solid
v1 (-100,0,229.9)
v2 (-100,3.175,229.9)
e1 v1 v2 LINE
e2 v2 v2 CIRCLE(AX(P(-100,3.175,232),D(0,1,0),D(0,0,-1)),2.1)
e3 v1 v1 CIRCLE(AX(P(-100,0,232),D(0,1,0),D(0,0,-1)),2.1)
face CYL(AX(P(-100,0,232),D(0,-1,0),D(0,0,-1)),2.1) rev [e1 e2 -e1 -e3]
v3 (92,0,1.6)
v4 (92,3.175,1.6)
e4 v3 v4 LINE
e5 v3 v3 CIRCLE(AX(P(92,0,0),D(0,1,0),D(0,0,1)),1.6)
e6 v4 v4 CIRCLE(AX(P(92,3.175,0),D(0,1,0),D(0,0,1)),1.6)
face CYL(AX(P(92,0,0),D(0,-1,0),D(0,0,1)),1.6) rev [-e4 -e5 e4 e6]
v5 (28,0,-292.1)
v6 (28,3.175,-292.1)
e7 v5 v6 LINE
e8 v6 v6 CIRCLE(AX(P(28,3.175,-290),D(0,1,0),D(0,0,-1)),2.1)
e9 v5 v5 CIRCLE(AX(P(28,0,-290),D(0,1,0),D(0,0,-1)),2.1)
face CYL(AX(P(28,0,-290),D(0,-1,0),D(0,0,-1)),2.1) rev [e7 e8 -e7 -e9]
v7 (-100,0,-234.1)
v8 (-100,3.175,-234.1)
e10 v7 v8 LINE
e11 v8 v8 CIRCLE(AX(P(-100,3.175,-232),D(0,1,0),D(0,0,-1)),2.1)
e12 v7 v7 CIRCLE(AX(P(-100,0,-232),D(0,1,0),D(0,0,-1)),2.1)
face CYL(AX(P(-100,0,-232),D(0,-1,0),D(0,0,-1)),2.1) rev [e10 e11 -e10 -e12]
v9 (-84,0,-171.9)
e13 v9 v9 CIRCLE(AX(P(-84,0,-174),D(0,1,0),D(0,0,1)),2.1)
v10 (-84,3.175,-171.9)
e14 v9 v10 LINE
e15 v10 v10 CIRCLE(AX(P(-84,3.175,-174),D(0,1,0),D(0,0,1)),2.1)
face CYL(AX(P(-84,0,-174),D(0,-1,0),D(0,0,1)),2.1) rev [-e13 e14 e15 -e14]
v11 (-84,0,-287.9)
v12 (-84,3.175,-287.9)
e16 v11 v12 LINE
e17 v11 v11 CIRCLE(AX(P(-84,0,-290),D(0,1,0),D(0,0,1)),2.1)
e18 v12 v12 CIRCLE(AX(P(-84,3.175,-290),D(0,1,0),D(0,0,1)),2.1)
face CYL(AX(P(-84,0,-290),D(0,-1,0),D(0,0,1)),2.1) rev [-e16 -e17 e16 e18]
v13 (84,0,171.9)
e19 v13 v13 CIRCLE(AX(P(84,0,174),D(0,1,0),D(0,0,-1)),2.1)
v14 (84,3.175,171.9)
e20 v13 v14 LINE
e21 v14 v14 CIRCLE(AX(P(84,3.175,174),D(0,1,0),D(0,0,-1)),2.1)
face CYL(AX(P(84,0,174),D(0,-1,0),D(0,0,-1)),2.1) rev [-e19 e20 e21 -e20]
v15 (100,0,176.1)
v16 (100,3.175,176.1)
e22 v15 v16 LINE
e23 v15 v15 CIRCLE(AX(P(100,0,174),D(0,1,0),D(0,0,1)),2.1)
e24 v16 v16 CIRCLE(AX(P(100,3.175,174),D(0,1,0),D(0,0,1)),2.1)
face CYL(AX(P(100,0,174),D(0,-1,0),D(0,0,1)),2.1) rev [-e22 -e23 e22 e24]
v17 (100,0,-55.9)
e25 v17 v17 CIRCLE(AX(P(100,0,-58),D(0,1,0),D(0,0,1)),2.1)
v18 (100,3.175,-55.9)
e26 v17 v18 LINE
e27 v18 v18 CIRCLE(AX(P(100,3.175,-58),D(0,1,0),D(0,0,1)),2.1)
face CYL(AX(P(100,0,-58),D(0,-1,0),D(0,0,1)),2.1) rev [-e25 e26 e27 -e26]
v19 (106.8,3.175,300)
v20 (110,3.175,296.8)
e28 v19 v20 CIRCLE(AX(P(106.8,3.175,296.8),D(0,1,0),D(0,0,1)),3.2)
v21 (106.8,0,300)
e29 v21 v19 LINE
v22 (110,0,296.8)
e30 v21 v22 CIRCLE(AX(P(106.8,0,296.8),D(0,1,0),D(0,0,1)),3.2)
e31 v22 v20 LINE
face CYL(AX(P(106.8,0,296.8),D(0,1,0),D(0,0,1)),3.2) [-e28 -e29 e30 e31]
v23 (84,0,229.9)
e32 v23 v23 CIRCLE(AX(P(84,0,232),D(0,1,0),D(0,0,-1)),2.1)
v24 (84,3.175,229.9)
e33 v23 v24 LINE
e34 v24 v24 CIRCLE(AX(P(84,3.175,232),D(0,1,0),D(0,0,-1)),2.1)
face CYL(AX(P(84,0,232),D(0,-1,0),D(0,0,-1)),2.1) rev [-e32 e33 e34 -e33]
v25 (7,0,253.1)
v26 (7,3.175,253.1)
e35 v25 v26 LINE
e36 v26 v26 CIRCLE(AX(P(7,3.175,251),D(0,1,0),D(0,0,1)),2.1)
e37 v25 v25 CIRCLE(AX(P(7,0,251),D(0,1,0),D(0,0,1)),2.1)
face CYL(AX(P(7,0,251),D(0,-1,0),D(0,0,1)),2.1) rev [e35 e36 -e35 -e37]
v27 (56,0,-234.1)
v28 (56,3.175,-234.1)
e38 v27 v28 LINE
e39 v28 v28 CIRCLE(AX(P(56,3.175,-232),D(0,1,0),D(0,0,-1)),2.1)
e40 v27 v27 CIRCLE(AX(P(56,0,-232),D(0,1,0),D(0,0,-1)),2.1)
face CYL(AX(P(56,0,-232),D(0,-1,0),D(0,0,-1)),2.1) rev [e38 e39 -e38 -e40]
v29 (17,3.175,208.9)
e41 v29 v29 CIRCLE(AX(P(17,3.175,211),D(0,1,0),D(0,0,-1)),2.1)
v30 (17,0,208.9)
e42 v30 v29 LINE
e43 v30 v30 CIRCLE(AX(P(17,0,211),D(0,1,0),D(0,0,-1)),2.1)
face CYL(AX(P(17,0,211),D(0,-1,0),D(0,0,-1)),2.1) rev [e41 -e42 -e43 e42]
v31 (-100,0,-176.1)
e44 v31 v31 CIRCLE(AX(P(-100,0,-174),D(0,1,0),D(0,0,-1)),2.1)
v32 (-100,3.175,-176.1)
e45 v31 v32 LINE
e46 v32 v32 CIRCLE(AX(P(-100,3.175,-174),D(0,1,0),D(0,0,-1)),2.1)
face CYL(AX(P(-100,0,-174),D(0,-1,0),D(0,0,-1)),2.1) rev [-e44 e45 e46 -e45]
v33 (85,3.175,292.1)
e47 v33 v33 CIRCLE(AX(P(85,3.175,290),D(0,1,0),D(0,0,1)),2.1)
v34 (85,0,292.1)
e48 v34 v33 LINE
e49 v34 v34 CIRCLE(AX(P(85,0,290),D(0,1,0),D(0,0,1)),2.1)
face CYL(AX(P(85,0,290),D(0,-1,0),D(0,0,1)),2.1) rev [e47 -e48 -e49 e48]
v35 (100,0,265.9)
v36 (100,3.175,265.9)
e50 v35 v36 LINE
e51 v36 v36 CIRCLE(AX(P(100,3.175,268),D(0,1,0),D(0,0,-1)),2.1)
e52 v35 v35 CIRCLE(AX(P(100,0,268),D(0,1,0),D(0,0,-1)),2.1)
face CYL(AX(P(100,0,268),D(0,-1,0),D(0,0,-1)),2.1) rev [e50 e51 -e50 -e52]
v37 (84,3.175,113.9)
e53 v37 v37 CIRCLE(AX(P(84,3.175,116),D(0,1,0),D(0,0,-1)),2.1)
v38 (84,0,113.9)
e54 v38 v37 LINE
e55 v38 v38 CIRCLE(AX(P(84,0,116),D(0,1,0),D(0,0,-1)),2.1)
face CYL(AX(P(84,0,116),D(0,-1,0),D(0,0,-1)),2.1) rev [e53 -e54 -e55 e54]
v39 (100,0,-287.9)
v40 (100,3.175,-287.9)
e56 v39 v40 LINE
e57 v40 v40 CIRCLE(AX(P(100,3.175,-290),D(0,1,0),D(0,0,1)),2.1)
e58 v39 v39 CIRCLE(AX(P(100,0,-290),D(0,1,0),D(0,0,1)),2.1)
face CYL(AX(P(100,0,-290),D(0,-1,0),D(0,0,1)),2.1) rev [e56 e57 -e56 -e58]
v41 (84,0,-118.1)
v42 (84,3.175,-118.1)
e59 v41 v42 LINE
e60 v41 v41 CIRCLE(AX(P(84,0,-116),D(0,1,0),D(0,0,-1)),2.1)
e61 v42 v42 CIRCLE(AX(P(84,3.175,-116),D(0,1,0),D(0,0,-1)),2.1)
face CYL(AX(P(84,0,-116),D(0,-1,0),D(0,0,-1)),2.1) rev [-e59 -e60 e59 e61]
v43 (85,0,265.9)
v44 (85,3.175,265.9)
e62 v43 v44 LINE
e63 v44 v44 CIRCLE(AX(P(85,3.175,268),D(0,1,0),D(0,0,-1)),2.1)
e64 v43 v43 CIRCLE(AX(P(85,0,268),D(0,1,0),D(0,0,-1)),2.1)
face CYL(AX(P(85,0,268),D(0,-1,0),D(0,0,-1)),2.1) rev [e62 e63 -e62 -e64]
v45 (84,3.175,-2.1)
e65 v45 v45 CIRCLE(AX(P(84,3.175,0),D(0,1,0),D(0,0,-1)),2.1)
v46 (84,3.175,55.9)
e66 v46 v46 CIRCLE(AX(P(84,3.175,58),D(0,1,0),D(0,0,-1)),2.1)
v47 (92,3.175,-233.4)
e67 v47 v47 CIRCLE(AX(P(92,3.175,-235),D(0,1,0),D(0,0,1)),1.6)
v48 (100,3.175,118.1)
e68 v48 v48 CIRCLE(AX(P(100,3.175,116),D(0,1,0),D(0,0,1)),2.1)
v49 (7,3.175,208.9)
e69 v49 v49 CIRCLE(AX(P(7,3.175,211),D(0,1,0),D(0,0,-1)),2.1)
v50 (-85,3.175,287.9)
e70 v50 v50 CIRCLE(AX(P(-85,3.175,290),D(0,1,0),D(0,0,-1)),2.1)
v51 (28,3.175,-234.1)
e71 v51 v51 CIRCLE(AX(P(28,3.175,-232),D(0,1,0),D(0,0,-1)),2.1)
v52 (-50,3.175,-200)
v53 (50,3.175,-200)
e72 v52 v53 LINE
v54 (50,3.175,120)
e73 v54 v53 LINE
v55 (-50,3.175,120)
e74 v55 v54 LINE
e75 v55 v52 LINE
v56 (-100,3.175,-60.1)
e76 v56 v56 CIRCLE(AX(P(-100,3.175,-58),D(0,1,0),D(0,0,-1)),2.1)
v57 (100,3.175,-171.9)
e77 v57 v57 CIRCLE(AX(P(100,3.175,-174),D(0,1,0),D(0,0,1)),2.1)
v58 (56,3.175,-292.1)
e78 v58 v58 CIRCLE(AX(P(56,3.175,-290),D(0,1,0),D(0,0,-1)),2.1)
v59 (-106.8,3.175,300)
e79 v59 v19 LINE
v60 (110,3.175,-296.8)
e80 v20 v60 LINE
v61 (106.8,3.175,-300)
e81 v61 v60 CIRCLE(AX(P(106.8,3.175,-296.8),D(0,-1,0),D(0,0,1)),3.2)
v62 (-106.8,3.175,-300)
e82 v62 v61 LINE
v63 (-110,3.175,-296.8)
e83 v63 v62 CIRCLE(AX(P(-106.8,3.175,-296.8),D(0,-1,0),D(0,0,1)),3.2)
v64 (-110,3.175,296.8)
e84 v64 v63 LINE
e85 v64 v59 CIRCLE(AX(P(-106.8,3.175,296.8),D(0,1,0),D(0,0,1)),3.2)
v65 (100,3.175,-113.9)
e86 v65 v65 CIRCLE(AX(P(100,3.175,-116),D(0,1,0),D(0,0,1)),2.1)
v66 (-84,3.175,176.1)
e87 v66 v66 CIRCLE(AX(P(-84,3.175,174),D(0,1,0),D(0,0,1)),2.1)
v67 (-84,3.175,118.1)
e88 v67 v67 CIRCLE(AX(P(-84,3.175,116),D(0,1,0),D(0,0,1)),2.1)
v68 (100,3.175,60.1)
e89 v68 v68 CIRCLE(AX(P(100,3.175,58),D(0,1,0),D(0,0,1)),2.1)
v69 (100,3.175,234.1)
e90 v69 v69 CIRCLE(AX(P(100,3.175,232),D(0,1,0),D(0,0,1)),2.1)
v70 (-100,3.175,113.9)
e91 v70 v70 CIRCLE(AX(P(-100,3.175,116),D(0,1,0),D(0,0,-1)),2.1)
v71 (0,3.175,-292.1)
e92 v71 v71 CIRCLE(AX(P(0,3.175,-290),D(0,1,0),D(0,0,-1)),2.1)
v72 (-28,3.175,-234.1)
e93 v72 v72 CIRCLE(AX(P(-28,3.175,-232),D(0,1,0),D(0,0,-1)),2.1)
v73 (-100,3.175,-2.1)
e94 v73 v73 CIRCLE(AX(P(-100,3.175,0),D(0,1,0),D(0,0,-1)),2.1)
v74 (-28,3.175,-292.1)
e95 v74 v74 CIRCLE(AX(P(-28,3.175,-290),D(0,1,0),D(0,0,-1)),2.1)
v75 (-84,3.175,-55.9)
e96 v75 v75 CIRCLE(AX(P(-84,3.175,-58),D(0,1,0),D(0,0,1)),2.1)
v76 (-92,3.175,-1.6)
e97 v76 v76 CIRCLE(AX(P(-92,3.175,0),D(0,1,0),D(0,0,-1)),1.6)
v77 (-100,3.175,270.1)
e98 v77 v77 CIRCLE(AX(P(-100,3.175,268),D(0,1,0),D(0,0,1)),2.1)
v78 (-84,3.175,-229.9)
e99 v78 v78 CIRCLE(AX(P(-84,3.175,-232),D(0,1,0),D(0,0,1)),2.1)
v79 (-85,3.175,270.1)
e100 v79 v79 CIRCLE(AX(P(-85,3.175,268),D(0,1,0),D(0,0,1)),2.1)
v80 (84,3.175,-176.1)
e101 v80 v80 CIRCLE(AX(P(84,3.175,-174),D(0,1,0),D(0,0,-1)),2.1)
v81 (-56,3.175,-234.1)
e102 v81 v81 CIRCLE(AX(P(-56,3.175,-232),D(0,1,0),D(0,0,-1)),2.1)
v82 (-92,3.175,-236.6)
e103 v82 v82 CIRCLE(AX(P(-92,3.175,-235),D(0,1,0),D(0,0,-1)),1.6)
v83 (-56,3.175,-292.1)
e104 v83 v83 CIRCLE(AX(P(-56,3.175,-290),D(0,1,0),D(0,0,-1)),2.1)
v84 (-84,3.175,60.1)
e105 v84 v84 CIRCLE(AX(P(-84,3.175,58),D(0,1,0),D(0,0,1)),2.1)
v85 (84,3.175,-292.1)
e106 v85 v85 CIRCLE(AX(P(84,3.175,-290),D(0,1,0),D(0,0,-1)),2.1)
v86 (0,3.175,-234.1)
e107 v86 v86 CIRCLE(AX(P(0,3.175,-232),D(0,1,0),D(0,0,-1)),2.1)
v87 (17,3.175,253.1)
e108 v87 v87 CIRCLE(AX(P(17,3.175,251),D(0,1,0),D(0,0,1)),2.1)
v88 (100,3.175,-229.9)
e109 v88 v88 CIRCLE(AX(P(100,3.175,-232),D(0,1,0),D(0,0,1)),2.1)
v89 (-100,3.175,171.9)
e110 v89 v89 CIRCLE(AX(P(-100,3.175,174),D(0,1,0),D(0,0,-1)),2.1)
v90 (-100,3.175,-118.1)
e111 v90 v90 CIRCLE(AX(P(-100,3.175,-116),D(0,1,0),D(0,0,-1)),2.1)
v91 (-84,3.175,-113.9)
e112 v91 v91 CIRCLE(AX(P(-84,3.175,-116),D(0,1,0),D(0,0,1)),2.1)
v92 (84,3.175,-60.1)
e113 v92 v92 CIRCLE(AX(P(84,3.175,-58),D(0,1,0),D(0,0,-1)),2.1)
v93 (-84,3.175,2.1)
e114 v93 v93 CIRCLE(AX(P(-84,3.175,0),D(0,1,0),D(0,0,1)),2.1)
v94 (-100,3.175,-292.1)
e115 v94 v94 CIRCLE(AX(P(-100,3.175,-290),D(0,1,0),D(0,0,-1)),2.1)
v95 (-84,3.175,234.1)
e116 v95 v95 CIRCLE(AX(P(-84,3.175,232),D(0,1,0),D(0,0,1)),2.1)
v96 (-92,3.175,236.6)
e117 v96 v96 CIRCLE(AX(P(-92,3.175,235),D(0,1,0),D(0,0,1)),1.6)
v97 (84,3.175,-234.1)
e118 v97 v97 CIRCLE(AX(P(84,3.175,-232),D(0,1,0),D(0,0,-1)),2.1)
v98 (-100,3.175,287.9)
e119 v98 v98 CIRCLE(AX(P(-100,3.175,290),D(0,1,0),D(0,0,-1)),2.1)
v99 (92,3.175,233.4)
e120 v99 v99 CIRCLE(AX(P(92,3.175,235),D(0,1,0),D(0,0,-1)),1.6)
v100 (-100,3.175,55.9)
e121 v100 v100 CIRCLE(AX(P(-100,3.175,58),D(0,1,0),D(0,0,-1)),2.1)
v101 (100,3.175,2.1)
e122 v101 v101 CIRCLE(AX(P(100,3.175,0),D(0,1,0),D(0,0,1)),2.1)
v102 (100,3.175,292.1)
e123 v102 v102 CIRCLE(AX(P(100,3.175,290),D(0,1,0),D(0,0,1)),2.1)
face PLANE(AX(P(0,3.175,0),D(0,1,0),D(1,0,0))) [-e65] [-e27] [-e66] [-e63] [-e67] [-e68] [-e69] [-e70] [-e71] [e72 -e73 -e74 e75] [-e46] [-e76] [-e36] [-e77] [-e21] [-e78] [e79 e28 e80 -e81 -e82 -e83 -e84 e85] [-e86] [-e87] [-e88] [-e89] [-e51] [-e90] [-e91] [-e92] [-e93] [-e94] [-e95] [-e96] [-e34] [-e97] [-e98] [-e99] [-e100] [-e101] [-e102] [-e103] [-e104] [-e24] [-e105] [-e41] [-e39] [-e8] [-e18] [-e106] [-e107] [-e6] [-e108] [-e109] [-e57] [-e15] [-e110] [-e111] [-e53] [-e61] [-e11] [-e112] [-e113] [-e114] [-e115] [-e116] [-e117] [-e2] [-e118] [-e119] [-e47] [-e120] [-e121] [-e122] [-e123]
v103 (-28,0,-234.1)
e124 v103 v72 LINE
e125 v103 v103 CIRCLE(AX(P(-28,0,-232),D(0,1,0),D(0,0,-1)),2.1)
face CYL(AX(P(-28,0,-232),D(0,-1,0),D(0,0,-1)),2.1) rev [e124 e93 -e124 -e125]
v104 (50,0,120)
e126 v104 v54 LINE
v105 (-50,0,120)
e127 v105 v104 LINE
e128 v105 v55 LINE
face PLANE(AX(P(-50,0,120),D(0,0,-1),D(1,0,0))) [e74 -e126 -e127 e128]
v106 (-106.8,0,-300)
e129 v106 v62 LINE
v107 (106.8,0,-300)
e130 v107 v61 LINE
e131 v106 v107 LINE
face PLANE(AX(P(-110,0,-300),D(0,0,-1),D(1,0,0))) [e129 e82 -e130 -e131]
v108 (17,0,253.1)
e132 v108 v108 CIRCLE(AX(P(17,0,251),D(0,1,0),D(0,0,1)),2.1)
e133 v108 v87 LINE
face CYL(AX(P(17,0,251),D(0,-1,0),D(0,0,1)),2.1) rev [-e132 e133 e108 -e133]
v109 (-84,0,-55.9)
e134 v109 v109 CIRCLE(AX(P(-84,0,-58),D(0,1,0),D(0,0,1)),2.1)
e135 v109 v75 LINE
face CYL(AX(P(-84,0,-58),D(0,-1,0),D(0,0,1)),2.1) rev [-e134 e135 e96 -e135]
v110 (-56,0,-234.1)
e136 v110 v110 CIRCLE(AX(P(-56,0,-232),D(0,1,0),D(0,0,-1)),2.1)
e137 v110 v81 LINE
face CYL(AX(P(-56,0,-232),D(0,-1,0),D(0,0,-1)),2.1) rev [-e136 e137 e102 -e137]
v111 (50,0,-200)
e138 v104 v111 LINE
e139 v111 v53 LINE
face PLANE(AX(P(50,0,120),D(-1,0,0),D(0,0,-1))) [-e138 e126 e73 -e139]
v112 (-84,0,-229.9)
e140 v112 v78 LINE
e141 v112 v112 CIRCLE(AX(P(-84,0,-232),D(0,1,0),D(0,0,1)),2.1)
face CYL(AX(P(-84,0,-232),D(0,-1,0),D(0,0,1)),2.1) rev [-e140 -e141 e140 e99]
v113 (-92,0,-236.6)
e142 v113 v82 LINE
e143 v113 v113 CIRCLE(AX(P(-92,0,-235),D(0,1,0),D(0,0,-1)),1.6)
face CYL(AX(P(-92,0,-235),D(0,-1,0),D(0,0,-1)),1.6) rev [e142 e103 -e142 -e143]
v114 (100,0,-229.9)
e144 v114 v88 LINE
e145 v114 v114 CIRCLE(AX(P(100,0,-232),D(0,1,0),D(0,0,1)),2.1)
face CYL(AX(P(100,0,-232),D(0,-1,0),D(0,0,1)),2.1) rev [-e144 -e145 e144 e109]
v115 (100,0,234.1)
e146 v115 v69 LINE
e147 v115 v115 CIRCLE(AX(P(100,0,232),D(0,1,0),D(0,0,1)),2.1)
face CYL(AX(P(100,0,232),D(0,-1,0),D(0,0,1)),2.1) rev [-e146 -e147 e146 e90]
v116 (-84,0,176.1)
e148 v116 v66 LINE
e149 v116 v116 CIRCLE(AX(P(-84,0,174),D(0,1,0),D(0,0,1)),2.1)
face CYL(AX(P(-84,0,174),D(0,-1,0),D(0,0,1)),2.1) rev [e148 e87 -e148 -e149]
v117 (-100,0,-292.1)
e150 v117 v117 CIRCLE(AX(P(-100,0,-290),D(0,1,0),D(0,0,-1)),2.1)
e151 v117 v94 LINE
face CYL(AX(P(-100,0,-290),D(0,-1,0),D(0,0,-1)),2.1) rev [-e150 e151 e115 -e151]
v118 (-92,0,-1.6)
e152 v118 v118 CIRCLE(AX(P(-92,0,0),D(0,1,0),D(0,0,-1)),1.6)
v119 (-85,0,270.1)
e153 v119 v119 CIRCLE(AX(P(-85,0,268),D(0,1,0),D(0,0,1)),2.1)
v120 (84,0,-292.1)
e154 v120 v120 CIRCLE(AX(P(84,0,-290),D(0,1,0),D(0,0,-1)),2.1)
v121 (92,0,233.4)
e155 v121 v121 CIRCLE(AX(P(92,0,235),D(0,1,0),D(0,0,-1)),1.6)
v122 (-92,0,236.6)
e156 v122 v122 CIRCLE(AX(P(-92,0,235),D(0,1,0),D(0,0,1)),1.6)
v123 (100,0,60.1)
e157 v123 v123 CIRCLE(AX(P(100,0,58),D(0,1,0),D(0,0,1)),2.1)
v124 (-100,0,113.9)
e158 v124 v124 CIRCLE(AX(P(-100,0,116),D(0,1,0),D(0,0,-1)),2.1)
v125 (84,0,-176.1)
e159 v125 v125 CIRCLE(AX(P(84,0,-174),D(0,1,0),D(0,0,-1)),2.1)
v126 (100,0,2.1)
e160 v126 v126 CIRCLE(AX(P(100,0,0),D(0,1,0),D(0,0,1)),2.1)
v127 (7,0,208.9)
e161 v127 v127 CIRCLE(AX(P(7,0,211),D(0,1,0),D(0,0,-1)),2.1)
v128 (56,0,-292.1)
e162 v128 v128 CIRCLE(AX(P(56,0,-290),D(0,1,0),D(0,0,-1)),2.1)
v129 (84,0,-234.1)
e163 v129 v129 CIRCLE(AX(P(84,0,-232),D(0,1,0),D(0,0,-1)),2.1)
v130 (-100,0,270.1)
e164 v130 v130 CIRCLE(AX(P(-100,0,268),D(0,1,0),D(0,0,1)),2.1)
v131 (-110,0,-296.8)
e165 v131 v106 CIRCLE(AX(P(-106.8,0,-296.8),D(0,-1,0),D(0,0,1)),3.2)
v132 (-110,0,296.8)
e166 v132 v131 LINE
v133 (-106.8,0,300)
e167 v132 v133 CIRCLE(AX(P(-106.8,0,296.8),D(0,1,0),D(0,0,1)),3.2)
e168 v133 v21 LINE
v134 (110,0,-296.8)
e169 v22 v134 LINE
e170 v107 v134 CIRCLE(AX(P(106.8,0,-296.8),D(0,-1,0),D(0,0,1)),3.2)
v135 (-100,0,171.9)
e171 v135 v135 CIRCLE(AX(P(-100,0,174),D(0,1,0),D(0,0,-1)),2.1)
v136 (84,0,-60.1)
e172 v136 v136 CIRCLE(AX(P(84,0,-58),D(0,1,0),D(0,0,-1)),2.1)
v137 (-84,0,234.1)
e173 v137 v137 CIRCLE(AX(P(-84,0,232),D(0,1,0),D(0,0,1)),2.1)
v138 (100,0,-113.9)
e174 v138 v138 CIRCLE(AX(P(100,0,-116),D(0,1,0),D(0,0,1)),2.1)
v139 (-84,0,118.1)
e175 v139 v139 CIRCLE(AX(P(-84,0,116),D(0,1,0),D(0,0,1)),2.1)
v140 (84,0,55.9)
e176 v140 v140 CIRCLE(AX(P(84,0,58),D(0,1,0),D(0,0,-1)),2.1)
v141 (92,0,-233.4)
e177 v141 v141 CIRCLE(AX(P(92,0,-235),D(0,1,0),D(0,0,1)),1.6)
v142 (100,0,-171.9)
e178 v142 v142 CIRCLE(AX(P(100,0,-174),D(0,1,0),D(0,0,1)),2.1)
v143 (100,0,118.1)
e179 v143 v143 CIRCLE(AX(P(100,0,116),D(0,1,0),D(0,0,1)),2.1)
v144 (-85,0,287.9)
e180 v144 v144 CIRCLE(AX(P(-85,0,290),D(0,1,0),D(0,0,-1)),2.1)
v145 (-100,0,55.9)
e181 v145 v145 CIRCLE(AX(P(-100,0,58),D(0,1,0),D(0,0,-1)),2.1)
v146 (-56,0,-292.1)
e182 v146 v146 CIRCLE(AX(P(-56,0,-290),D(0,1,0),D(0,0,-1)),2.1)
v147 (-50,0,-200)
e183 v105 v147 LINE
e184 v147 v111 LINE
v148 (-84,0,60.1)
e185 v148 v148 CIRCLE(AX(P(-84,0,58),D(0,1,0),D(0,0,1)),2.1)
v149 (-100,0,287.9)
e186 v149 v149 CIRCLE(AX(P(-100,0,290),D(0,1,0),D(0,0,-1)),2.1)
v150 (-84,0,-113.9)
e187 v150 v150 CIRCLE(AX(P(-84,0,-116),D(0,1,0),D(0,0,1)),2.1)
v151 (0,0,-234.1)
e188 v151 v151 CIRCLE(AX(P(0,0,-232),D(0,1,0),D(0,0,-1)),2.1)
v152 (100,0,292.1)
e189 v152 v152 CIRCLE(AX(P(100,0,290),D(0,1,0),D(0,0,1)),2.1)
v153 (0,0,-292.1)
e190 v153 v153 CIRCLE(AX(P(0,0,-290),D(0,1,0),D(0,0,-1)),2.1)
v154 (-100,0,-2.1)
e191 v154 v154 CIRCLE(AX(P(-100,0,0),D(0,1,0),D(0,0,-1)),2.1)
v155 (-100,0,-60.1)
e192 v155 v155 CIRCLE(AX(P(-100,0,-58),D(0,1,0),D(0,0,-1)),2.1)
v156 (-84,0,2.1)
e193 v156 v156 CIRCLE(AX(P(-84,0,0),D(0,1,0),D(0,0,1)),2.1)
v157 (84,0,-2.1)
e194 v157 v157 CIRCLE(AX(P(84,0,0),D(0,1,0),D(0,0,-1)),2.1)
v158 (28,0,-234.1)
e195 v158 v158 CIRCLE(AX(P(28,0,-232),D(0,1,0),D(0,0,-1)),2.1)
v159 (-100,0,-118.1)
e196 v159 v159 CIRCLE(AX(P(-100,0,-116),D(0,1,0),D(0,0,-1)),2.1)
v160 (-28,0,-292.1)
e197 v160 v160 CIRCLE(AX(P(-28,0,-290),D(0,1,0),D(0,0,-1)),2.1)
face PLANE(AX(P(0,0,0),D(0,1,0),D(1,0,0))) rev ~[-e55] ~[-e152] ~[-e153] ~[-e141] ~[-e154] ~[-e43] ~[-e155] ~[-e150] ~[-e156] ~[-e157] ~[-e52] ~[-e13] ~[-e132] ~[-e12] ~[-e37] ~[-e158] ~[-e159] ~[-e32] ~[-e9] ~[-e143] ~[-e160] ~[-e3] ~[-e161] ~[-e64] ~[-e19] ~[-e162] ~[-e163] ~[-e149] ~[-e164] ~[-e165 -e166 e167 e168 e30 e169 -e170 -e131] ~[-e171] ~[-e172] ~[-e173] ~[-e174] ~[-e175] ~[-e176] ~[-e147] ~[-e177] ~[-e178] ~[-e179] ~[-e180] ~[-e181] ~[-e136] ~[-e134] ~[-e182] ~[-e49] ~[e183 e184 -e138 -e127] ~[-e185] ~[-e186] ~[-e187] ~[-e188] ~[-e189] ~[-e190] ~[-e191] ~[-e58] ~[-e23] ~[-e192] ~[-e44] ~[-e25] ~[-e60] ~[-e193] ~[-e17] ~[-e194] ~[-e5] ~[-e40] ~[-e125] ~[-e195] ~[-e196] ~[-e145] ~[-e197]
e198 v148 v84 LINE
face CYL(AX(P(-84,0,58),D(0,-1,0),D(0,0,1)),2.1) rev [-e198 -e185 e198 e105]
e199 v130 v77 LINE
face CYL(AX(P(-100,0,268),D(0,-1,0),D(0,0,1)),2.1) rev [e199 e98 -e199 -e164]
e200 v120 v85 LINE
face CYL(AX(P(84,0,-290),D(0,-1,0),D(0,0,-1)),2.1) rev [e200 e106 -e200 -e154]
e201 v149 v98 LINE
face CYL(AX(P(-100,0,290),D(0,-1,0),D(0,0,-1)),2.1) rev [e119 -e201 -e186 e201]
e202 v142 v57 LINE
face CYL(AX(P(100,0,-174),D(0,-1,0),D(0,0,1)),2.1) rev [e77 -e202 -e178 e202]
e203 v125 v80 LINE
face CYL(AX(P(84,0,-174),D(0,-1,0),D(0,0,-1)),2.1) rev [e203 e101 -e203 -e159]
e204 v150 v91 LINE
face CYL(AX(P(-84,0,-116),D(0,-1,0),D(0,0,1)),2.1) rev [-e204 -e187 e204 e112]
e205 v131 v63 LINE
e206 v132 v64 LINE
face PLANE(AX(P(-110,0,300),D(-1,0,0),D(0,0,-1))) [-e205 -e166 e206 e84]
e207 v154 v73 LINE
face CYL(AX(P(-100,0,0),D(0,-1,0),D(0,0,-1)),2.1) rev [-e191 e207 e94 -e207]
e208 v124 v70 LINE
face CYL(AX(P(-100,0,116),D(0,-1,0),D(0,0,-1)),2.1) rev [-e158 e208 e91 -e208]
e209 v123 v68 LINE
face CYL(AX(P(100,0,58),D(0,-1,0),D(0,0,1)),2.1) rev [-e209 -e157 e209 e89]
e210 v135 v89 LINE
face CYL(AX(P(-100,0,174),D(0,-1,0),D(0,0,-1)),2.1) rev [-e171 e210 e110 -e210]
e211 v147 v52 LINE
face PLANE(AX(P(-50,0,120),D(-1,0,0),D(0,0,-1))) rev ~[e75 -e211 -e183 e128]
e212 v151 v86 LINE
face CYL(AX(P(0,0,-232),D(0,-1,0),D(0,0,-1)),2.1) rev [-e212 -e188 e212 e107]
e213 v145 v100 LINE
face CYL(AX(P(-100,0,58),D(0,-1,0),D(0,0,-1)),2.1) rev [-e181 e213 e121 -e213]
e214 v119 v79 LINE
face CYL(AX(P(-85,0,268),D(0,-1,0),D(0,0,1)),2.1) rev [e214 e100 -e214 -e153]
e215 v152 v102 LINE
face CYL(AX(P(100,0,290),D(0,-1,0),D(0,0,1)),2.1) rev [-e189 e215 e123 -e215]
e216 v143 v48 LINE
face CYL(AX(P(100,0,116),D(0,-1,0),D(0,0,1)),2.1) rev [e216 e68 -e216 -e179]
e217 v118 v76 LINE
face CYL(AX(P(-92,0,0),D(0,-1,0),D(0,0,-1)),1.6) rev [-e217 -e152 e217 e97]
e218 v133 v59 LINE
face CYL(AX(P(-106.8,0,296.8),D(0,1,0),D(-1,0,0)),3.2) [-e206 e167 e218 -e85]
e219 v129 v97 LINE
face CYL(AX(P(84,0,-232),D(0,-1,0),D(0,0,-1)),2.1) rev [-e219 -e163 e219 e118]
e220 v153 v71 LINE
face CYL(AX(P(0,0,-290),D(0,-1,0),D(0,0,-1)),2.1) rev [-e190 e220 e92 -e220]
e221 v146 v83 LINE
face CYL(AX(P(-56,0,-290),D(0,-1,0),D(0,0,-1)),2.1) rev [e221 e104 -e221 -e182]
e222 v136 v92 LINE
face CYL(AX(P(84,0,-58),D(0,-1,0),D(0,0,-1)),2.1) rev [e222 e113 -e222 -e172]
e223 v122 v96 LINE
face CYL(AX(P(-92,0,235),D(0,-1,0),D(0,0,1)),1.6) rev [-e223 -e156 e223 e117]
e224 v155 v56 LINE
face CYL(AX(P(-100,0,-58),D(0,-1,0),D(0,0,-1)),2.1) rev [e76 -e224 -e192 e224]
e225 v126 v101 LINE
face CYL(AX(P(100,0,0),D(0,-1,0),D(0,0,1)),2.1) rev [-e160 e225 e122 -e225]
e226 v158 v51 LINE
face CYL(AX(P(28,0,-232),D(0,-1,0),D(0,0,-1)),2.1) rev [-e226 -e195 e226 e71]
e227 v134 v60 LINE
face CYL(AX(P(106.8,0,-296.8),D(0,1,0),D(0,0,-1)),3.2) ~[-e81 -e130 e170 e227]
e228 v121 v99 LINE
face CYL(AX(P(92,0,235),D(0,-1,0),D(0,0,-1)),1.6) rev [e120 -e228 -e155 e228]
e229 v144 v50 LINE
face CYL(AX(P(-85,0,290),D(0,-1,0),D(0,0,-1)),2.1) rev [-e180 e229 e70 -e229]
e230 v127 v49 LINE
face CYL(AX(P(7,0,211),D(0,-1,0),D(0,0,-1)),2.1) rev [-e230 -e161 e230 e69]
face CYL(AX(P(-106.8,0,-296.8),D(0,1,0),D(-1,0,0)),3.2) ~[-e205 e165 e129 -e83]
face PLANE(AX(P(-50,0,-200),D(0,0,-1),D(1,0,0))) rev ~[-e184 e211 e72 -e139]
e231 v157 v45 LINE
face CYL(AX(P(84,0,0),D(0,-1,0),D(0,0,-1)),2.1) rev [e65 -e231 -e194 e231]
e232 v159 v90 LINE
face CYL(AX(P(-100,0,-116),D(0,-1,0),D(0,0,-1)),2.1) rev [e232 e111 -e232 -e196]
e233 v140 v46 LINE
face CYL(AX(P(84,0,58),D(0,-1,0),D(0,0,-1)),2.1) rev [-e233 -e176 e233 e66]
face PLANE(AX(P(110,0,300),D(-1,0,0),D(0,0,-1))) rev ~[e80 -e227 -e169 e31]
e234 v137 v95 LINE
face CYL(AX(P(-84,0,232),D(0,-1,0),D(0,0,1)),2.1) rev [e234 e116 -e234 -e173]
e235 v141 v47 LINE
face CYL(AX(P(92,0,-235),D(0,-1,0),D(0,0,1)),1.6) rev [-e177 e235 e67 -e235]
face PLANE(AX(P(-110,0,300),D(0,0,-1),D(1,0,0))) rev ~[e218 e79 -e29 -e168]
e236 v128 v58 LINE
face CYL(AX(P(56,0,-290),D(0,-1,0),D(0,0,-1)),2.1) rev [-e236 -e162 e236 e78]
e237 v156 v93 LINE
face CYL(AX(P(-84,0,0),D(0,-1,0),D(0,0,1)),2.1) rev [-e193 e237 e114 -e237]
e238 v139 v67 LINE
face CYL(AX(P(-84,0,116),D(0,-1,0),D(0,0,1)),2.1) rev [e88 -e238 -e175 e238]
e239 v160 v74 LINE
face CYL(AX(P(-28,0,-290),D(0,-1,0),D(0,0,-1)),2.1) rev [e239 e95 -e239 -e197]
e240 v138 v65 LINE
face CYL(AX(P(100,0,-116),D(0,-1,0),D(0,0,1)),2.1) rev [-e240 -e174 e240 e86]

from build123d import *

# Parameters (mm, degrees)
SKETCH1_W           = 220
SKETCH1_H           = 600
SKETCH1_R           = 2.1
SKETCH1_R_2         = 1.6
SKETCH1_W_2         = 100
SKETCH1_H_2         = 320
BOSS_EXTRUDE1_DEPTH = 3.175
FILLET1_R           = 3.2


with BuildPart() as part:
    # Sketch1 → Boss-Extrude1 (new body)
    with BuildSketch(Plane(origin=(0, 0, 0), x_dir=(1, 0, 0), z_dir=(0, 1, 0))):
        Rectangle(SKETCH1_W, SKETCH1_H)
        with Locations(Location((100, 290, 0), (0, 0, 270))):
            Circle(SKETCH1_R, mode=Mode.SUBTRACT)
        with Locations(Location((100, 232, 0), (0, 0, 270))):
            Circle(SKETCH1_R, mode=Mode.SUBTRACT)
        with Locations(Location((100, 174, 0), (0, 0, 270))):
            Circle(SKETCH1_R, mode=Mode.SUBTRACT)
        with Locations(Location((100, 116, 0), (0, 0, 270))):
            Circle(SKETCH1_R, mode=Mode.SUBTRACT)
        with Locations(Location((100, 58, 0), (0, 0, 270))):
            Circle(SKETCH1_R, mode=Mode.SUBTRACT)
        with Locations(Location((100, 0, 0), (0, 0, 270))):
            Circle(SKETCH1_R, mode=Mode.SUBTRACT)
        with Locations(Location((100, -58, 0), (0, 0, 270))):
            Circle(SKETCH1_R, mode=Mode.SUBTRACT)
        with Locations(Location((100, -116, 0), (0, 0, 270))):
            Circle(SKETCH1_R, mode=Mode.SUBTRACT)
        with Locations(Location((100, -174, 0), (0, 0, 270))):
            Circle(SKETCH1_R, mode=Mode.SUBTRACT)
        with Locations(Location((100, -232, 0), (0, 0, 270))):
            Circle(SKETCH1_R, mode=Mode.SUBTRACT)
        with Locations(Location((100, -290, 0), (0, 0, 270))):
            Circle(SKETCH1_R, mode=Mode.SUBTRACT)
        with Locations(Location((84, -232, 0), (0, 0, 90))):
            Circle(SKETCH1_R, mode=Mode.SUBTRACT)
        with Locations(Location((84, -174, 0), (0, 0, 90))):
            Circle(SKETCH1_R, mode=Mode.SUBTRACT)
        with Locations(Location((84, -116, 0), (0, 0, 90))):
            Circle(SKETCH1_R, mode=Mode.SUBTRACT)
        with Locations(Location((84, -58, 0), (0, 0, 90))):
            Circle(SKETCH1_R, mode=Mode.SUBTRACT)
        with Locations(Location((84, 0, 0), (0, 0, 90))):
            Circle(SKETCH1_R, mode=Mode.SUBTRACT)
        with Locations(Location((84, 58, 0), (0, 0, 90))):
            Circle(SKETCH1_R, mode=Mode.SUBTRACT)
        with Locations(Location((84, 116, 0), (0, 0, 90))):
            Circle(SKETCH1_R, mode=Mode.SUBTRACT)
        with Locations(Location((84, 174, 0), (0, 0, 90))):
            Circle(SKETCH1_R, mode=Mode.SUBTRACT)
        with Locations(Location((84, 232, 0), (0, 0, 90))):
            Circle(SKETCH1_R, mode=Mode.SUBTRACT)
        with Locations(Location((84, 290, 0), (0, 0, 90))):
            Circle(SKETCH1_R, mode=Mode.SUBTRACT)
        with Locations(Location((92, 0, 0), (0, 0, 270))):
            Circle(SKETCH1_R_2, mode=Mode.SUBTRACT)
        with Locations(Location((92, 235, 0), (0, 0, 270))):
            Circle(SKETCH1_R_2, mode=Mode.SUBTRACT)
        with Locations(Location((92, -235, 0), (0, 0, 90))):
            Circle(SKETCH1_R_2, mode=Mode.SUBTRACT)
        with Locations(Location((-92, 235, 0), (0, 0, 90))):
            Circle(SKETCH1_R_2, mode=Mode.SUBTRACT)
        with Locations(Location((-84, 290, 0), (0, 0, 270))):
            Circle(SKETCH1_R, mode=Mode.SUBTRACT)
        with Locations(Location((-84, 232, 0), (0, 0, 270))):
            Circle(SKETCH1_R, mode=Mode.SUBTRACT)
        with Locations(Location((-84, 174, 0), (0, 0, 270))):
            Circle(SKETCH1_R, mode=Mode.SUBTRACT)
        with Locations(Location((-84, 116, 0), (0, 0, 270))):
            Circle(SKETCH1_R, mode=Mode.SUBTRACT)
        with Locations(Location((-100, 116, 0), (0, 0, 90))):
            Circle(SKETCH1_R, mode=Mode.SUBTRACT)
        with Locations(Location((-100, 174, 0), (0, 0, 90))):
            Circle(SKETCH1_R, mode=Mode.SUBTRACT)
        with Locations(Location((-100, 232, 0), (0, 0, 90))):
            Circle(SKETCH1_R, mode=Mode.SUBTRACT)
        with Locations(Location((-100, 290, 0), (0, 0, 90))):
            Circle(SKETCH1_R, mode=Mode.SUBTRACT)
        with Locations(Location((-92, -235, 0), (0, 0, 270))):
            Circle(SKETCH1_R_2, mode=Mode.SUBTRACT)
        with Locations(Location((-92, 0, 0), (0, 0, 90))):
            Circle(SKETCH1_R_2, mode=Mode.SUBTRACT)
        with Locations(Location((-84, 58, 0), (0, 0, 270))):
            Circle(SKETCH1_R, mode=Mode.SUBTRACT)
        with Locations(Location((-84, 0, 0), (0, 0, 270))):
            Circle(SKETCH1_R, mode=Mode.SUBTRACT)
        with Locations(Location((-84, -58, 0), (0, 0, 270))):
            Circle(SKETCH1_R, mode=Mode.SUBTRACT)
        with Locations(Location((-84, -116, 0), (0, 0, 270))):
            Circle(SKETCH1_R, mode=Mode.SUBTRACT)
        with Locations(Location((-84, -174, 0), (0, 0, 270))):
            Circle(SKETCH1_R, mode=Mode.SUBTRACT)
        with Locations(Location((-84, -232, 0), (0, 0, 270))):
            Circle(SKETCH1_R, mode=Mode.SUBTRACT)
        with Locations(Location((-100, -290, 0), (0, 0, 90))):
            Circle(SKETCH1_R, mode=Mode.SUBTRACT)
        with Locations(Location((-100, -232, 0), (0, 0, 90))):
            Circle(SKETCH1_R, mode=Mode.SUBTRACT)
        with Locations(Location((-100, -174, 0), (0, 0, 90))):
            Circle(SKETCH1_R, mode=Mode.SUBTRACT)
        with Locations(Location((-100, -116, 0), (0, 0, 90))):
            Circle(SKETCH1_R, mode=Mode.SUBTRACT)
        with Locations(Location((-100, -58, 0), (0, 0, 90))):
            Circle(SKETCH1_R, mode=Mode.SUBTRACT)
        with Locations(Location((-100, 0, 0), (0, 0, 90))):
            Circle(SKETCH1_R, mode=Mode.SUBTRACT)
        with Locations(Location((-100, 58, 0), (0, 0, 90))):
            Circle(SKETCH1_R, mode=Mode.SUBTRACT)
        with Locations(Location((56, 290, 0), (0, 0, 90))):
            Circle(SKETCH1_R, mode=Mode.SUBTRACT)
        with Locations(Location((28, 290, 0), (0, 0, 90))):
            Circle(SKETCH1_R, mode=Mode.SUBTRACT)
        with Locations(Location((0, 290, 0), (0, 0, 90))):
            Circle(SKETCH1_R, mode=Mode.SUBTRACT)
        with Locations(Location((-28, 290, 0), (0, 0, 90))):
            Circle(SKETCH1_R, mode=Mode.SUBTRACT)
        with Locations(Location((-56, 290, 0), (0, 0, 90))):
            Circle(SKETCH1_R, mode=Mode.SUBTRACT)
        with Locations(Location((56, 232, 0), (0, 0, 90))):
            Circle(SKETCH1_R, mode=Mode.SUBTRACT)
        with Locations(Location((28, 232, 0), (0, 0, 90))):
            Circle(SKETCH1_R, mode=Mode.SUBTRACT)
        with Locations(Location((0, 232, 0), (0, 0, 90))):
            Circle(SKETCH1_R, mode=Mode.SUBTRACT)
        with Locations(Location((-28, 232, 0), (0, 0, 90))):
            Circle(SKETCH1_R, mode=Mode.SUBTRACT)
        with Locations(Location((-56, 232, 0), (0, 0, 90))):
            Circle(SKETCH1_R, mode=Mode.SUBTRACT)
        with Locations(Location((85, -290, 0), (0, 0, 270))):
            Circle(SKETCH1_R, mode=Mode.SUBTRACT)
        with Locations(Location((85, -268, 0), (0, 0, 90))):
            Circle(SKETCH1_R, mode=Mode.SUBTRACT)
        with Locations(Location((100, -268, 0), (0, 0, 90))):
            Circle(SKETCH1_R, mode=Mode.SUBTRACT)
        with Locations(Location((-85, -290, 0), (0, 0, 90))):
            Circle(SKETCH1_R, mode=Mode.SUBTRACT)
        with Locations(Location((-100, -268, 0), (0, 0, 270))):
            Circle(SKETCH1_R, mode=Mode.SUBTRACT)
        with Locations(Location((-85, -268, 0), (0, 0, 270))):
            Circle(SKETCH1_R, mode=Mode.SUBTRACT)
        with Locations(Location((17, -251, 0), (0, 0, 270))):
            Circle(SKETCH1_R, mode=Mode.SUBTRACT)
        with Locations(Location((7, -251, 0), (0, 0, 270))):
            Circle(SKETCH1_R, mode=Mode.SUBTRACT)
        with Locations(Location((17, -211, 0), (0, 0, 90))):
            Circle(SKETCH1_R, mode=Mode.SUBTRACT)
        with Locations(Location((7, -211, 0), (0, 0, 90))):
            Circle(SKETCH1_R, mode=Mode.SUBTRACT)
        with Locations((0, 40)):
            Rectangle(SKETCH1_W_2, SKETCH1_H_2, mode=Mode.SUBTRACT)
    extrude(amount=BOSS_EXTRUDE1_DEPTH)

    # Fillet1
    fillet1_edges = [part.edges().sort_by_distance(p)[0] for p in [
        (110, 1.5875, 300),
        (-110, 1.5875, 300),
        (-110, 1.5875, -300),
        (110, 1.5875, -300),
    ]]
    fillet(fillet1_edges, radius=FILLET1_R)


solid = part.part
